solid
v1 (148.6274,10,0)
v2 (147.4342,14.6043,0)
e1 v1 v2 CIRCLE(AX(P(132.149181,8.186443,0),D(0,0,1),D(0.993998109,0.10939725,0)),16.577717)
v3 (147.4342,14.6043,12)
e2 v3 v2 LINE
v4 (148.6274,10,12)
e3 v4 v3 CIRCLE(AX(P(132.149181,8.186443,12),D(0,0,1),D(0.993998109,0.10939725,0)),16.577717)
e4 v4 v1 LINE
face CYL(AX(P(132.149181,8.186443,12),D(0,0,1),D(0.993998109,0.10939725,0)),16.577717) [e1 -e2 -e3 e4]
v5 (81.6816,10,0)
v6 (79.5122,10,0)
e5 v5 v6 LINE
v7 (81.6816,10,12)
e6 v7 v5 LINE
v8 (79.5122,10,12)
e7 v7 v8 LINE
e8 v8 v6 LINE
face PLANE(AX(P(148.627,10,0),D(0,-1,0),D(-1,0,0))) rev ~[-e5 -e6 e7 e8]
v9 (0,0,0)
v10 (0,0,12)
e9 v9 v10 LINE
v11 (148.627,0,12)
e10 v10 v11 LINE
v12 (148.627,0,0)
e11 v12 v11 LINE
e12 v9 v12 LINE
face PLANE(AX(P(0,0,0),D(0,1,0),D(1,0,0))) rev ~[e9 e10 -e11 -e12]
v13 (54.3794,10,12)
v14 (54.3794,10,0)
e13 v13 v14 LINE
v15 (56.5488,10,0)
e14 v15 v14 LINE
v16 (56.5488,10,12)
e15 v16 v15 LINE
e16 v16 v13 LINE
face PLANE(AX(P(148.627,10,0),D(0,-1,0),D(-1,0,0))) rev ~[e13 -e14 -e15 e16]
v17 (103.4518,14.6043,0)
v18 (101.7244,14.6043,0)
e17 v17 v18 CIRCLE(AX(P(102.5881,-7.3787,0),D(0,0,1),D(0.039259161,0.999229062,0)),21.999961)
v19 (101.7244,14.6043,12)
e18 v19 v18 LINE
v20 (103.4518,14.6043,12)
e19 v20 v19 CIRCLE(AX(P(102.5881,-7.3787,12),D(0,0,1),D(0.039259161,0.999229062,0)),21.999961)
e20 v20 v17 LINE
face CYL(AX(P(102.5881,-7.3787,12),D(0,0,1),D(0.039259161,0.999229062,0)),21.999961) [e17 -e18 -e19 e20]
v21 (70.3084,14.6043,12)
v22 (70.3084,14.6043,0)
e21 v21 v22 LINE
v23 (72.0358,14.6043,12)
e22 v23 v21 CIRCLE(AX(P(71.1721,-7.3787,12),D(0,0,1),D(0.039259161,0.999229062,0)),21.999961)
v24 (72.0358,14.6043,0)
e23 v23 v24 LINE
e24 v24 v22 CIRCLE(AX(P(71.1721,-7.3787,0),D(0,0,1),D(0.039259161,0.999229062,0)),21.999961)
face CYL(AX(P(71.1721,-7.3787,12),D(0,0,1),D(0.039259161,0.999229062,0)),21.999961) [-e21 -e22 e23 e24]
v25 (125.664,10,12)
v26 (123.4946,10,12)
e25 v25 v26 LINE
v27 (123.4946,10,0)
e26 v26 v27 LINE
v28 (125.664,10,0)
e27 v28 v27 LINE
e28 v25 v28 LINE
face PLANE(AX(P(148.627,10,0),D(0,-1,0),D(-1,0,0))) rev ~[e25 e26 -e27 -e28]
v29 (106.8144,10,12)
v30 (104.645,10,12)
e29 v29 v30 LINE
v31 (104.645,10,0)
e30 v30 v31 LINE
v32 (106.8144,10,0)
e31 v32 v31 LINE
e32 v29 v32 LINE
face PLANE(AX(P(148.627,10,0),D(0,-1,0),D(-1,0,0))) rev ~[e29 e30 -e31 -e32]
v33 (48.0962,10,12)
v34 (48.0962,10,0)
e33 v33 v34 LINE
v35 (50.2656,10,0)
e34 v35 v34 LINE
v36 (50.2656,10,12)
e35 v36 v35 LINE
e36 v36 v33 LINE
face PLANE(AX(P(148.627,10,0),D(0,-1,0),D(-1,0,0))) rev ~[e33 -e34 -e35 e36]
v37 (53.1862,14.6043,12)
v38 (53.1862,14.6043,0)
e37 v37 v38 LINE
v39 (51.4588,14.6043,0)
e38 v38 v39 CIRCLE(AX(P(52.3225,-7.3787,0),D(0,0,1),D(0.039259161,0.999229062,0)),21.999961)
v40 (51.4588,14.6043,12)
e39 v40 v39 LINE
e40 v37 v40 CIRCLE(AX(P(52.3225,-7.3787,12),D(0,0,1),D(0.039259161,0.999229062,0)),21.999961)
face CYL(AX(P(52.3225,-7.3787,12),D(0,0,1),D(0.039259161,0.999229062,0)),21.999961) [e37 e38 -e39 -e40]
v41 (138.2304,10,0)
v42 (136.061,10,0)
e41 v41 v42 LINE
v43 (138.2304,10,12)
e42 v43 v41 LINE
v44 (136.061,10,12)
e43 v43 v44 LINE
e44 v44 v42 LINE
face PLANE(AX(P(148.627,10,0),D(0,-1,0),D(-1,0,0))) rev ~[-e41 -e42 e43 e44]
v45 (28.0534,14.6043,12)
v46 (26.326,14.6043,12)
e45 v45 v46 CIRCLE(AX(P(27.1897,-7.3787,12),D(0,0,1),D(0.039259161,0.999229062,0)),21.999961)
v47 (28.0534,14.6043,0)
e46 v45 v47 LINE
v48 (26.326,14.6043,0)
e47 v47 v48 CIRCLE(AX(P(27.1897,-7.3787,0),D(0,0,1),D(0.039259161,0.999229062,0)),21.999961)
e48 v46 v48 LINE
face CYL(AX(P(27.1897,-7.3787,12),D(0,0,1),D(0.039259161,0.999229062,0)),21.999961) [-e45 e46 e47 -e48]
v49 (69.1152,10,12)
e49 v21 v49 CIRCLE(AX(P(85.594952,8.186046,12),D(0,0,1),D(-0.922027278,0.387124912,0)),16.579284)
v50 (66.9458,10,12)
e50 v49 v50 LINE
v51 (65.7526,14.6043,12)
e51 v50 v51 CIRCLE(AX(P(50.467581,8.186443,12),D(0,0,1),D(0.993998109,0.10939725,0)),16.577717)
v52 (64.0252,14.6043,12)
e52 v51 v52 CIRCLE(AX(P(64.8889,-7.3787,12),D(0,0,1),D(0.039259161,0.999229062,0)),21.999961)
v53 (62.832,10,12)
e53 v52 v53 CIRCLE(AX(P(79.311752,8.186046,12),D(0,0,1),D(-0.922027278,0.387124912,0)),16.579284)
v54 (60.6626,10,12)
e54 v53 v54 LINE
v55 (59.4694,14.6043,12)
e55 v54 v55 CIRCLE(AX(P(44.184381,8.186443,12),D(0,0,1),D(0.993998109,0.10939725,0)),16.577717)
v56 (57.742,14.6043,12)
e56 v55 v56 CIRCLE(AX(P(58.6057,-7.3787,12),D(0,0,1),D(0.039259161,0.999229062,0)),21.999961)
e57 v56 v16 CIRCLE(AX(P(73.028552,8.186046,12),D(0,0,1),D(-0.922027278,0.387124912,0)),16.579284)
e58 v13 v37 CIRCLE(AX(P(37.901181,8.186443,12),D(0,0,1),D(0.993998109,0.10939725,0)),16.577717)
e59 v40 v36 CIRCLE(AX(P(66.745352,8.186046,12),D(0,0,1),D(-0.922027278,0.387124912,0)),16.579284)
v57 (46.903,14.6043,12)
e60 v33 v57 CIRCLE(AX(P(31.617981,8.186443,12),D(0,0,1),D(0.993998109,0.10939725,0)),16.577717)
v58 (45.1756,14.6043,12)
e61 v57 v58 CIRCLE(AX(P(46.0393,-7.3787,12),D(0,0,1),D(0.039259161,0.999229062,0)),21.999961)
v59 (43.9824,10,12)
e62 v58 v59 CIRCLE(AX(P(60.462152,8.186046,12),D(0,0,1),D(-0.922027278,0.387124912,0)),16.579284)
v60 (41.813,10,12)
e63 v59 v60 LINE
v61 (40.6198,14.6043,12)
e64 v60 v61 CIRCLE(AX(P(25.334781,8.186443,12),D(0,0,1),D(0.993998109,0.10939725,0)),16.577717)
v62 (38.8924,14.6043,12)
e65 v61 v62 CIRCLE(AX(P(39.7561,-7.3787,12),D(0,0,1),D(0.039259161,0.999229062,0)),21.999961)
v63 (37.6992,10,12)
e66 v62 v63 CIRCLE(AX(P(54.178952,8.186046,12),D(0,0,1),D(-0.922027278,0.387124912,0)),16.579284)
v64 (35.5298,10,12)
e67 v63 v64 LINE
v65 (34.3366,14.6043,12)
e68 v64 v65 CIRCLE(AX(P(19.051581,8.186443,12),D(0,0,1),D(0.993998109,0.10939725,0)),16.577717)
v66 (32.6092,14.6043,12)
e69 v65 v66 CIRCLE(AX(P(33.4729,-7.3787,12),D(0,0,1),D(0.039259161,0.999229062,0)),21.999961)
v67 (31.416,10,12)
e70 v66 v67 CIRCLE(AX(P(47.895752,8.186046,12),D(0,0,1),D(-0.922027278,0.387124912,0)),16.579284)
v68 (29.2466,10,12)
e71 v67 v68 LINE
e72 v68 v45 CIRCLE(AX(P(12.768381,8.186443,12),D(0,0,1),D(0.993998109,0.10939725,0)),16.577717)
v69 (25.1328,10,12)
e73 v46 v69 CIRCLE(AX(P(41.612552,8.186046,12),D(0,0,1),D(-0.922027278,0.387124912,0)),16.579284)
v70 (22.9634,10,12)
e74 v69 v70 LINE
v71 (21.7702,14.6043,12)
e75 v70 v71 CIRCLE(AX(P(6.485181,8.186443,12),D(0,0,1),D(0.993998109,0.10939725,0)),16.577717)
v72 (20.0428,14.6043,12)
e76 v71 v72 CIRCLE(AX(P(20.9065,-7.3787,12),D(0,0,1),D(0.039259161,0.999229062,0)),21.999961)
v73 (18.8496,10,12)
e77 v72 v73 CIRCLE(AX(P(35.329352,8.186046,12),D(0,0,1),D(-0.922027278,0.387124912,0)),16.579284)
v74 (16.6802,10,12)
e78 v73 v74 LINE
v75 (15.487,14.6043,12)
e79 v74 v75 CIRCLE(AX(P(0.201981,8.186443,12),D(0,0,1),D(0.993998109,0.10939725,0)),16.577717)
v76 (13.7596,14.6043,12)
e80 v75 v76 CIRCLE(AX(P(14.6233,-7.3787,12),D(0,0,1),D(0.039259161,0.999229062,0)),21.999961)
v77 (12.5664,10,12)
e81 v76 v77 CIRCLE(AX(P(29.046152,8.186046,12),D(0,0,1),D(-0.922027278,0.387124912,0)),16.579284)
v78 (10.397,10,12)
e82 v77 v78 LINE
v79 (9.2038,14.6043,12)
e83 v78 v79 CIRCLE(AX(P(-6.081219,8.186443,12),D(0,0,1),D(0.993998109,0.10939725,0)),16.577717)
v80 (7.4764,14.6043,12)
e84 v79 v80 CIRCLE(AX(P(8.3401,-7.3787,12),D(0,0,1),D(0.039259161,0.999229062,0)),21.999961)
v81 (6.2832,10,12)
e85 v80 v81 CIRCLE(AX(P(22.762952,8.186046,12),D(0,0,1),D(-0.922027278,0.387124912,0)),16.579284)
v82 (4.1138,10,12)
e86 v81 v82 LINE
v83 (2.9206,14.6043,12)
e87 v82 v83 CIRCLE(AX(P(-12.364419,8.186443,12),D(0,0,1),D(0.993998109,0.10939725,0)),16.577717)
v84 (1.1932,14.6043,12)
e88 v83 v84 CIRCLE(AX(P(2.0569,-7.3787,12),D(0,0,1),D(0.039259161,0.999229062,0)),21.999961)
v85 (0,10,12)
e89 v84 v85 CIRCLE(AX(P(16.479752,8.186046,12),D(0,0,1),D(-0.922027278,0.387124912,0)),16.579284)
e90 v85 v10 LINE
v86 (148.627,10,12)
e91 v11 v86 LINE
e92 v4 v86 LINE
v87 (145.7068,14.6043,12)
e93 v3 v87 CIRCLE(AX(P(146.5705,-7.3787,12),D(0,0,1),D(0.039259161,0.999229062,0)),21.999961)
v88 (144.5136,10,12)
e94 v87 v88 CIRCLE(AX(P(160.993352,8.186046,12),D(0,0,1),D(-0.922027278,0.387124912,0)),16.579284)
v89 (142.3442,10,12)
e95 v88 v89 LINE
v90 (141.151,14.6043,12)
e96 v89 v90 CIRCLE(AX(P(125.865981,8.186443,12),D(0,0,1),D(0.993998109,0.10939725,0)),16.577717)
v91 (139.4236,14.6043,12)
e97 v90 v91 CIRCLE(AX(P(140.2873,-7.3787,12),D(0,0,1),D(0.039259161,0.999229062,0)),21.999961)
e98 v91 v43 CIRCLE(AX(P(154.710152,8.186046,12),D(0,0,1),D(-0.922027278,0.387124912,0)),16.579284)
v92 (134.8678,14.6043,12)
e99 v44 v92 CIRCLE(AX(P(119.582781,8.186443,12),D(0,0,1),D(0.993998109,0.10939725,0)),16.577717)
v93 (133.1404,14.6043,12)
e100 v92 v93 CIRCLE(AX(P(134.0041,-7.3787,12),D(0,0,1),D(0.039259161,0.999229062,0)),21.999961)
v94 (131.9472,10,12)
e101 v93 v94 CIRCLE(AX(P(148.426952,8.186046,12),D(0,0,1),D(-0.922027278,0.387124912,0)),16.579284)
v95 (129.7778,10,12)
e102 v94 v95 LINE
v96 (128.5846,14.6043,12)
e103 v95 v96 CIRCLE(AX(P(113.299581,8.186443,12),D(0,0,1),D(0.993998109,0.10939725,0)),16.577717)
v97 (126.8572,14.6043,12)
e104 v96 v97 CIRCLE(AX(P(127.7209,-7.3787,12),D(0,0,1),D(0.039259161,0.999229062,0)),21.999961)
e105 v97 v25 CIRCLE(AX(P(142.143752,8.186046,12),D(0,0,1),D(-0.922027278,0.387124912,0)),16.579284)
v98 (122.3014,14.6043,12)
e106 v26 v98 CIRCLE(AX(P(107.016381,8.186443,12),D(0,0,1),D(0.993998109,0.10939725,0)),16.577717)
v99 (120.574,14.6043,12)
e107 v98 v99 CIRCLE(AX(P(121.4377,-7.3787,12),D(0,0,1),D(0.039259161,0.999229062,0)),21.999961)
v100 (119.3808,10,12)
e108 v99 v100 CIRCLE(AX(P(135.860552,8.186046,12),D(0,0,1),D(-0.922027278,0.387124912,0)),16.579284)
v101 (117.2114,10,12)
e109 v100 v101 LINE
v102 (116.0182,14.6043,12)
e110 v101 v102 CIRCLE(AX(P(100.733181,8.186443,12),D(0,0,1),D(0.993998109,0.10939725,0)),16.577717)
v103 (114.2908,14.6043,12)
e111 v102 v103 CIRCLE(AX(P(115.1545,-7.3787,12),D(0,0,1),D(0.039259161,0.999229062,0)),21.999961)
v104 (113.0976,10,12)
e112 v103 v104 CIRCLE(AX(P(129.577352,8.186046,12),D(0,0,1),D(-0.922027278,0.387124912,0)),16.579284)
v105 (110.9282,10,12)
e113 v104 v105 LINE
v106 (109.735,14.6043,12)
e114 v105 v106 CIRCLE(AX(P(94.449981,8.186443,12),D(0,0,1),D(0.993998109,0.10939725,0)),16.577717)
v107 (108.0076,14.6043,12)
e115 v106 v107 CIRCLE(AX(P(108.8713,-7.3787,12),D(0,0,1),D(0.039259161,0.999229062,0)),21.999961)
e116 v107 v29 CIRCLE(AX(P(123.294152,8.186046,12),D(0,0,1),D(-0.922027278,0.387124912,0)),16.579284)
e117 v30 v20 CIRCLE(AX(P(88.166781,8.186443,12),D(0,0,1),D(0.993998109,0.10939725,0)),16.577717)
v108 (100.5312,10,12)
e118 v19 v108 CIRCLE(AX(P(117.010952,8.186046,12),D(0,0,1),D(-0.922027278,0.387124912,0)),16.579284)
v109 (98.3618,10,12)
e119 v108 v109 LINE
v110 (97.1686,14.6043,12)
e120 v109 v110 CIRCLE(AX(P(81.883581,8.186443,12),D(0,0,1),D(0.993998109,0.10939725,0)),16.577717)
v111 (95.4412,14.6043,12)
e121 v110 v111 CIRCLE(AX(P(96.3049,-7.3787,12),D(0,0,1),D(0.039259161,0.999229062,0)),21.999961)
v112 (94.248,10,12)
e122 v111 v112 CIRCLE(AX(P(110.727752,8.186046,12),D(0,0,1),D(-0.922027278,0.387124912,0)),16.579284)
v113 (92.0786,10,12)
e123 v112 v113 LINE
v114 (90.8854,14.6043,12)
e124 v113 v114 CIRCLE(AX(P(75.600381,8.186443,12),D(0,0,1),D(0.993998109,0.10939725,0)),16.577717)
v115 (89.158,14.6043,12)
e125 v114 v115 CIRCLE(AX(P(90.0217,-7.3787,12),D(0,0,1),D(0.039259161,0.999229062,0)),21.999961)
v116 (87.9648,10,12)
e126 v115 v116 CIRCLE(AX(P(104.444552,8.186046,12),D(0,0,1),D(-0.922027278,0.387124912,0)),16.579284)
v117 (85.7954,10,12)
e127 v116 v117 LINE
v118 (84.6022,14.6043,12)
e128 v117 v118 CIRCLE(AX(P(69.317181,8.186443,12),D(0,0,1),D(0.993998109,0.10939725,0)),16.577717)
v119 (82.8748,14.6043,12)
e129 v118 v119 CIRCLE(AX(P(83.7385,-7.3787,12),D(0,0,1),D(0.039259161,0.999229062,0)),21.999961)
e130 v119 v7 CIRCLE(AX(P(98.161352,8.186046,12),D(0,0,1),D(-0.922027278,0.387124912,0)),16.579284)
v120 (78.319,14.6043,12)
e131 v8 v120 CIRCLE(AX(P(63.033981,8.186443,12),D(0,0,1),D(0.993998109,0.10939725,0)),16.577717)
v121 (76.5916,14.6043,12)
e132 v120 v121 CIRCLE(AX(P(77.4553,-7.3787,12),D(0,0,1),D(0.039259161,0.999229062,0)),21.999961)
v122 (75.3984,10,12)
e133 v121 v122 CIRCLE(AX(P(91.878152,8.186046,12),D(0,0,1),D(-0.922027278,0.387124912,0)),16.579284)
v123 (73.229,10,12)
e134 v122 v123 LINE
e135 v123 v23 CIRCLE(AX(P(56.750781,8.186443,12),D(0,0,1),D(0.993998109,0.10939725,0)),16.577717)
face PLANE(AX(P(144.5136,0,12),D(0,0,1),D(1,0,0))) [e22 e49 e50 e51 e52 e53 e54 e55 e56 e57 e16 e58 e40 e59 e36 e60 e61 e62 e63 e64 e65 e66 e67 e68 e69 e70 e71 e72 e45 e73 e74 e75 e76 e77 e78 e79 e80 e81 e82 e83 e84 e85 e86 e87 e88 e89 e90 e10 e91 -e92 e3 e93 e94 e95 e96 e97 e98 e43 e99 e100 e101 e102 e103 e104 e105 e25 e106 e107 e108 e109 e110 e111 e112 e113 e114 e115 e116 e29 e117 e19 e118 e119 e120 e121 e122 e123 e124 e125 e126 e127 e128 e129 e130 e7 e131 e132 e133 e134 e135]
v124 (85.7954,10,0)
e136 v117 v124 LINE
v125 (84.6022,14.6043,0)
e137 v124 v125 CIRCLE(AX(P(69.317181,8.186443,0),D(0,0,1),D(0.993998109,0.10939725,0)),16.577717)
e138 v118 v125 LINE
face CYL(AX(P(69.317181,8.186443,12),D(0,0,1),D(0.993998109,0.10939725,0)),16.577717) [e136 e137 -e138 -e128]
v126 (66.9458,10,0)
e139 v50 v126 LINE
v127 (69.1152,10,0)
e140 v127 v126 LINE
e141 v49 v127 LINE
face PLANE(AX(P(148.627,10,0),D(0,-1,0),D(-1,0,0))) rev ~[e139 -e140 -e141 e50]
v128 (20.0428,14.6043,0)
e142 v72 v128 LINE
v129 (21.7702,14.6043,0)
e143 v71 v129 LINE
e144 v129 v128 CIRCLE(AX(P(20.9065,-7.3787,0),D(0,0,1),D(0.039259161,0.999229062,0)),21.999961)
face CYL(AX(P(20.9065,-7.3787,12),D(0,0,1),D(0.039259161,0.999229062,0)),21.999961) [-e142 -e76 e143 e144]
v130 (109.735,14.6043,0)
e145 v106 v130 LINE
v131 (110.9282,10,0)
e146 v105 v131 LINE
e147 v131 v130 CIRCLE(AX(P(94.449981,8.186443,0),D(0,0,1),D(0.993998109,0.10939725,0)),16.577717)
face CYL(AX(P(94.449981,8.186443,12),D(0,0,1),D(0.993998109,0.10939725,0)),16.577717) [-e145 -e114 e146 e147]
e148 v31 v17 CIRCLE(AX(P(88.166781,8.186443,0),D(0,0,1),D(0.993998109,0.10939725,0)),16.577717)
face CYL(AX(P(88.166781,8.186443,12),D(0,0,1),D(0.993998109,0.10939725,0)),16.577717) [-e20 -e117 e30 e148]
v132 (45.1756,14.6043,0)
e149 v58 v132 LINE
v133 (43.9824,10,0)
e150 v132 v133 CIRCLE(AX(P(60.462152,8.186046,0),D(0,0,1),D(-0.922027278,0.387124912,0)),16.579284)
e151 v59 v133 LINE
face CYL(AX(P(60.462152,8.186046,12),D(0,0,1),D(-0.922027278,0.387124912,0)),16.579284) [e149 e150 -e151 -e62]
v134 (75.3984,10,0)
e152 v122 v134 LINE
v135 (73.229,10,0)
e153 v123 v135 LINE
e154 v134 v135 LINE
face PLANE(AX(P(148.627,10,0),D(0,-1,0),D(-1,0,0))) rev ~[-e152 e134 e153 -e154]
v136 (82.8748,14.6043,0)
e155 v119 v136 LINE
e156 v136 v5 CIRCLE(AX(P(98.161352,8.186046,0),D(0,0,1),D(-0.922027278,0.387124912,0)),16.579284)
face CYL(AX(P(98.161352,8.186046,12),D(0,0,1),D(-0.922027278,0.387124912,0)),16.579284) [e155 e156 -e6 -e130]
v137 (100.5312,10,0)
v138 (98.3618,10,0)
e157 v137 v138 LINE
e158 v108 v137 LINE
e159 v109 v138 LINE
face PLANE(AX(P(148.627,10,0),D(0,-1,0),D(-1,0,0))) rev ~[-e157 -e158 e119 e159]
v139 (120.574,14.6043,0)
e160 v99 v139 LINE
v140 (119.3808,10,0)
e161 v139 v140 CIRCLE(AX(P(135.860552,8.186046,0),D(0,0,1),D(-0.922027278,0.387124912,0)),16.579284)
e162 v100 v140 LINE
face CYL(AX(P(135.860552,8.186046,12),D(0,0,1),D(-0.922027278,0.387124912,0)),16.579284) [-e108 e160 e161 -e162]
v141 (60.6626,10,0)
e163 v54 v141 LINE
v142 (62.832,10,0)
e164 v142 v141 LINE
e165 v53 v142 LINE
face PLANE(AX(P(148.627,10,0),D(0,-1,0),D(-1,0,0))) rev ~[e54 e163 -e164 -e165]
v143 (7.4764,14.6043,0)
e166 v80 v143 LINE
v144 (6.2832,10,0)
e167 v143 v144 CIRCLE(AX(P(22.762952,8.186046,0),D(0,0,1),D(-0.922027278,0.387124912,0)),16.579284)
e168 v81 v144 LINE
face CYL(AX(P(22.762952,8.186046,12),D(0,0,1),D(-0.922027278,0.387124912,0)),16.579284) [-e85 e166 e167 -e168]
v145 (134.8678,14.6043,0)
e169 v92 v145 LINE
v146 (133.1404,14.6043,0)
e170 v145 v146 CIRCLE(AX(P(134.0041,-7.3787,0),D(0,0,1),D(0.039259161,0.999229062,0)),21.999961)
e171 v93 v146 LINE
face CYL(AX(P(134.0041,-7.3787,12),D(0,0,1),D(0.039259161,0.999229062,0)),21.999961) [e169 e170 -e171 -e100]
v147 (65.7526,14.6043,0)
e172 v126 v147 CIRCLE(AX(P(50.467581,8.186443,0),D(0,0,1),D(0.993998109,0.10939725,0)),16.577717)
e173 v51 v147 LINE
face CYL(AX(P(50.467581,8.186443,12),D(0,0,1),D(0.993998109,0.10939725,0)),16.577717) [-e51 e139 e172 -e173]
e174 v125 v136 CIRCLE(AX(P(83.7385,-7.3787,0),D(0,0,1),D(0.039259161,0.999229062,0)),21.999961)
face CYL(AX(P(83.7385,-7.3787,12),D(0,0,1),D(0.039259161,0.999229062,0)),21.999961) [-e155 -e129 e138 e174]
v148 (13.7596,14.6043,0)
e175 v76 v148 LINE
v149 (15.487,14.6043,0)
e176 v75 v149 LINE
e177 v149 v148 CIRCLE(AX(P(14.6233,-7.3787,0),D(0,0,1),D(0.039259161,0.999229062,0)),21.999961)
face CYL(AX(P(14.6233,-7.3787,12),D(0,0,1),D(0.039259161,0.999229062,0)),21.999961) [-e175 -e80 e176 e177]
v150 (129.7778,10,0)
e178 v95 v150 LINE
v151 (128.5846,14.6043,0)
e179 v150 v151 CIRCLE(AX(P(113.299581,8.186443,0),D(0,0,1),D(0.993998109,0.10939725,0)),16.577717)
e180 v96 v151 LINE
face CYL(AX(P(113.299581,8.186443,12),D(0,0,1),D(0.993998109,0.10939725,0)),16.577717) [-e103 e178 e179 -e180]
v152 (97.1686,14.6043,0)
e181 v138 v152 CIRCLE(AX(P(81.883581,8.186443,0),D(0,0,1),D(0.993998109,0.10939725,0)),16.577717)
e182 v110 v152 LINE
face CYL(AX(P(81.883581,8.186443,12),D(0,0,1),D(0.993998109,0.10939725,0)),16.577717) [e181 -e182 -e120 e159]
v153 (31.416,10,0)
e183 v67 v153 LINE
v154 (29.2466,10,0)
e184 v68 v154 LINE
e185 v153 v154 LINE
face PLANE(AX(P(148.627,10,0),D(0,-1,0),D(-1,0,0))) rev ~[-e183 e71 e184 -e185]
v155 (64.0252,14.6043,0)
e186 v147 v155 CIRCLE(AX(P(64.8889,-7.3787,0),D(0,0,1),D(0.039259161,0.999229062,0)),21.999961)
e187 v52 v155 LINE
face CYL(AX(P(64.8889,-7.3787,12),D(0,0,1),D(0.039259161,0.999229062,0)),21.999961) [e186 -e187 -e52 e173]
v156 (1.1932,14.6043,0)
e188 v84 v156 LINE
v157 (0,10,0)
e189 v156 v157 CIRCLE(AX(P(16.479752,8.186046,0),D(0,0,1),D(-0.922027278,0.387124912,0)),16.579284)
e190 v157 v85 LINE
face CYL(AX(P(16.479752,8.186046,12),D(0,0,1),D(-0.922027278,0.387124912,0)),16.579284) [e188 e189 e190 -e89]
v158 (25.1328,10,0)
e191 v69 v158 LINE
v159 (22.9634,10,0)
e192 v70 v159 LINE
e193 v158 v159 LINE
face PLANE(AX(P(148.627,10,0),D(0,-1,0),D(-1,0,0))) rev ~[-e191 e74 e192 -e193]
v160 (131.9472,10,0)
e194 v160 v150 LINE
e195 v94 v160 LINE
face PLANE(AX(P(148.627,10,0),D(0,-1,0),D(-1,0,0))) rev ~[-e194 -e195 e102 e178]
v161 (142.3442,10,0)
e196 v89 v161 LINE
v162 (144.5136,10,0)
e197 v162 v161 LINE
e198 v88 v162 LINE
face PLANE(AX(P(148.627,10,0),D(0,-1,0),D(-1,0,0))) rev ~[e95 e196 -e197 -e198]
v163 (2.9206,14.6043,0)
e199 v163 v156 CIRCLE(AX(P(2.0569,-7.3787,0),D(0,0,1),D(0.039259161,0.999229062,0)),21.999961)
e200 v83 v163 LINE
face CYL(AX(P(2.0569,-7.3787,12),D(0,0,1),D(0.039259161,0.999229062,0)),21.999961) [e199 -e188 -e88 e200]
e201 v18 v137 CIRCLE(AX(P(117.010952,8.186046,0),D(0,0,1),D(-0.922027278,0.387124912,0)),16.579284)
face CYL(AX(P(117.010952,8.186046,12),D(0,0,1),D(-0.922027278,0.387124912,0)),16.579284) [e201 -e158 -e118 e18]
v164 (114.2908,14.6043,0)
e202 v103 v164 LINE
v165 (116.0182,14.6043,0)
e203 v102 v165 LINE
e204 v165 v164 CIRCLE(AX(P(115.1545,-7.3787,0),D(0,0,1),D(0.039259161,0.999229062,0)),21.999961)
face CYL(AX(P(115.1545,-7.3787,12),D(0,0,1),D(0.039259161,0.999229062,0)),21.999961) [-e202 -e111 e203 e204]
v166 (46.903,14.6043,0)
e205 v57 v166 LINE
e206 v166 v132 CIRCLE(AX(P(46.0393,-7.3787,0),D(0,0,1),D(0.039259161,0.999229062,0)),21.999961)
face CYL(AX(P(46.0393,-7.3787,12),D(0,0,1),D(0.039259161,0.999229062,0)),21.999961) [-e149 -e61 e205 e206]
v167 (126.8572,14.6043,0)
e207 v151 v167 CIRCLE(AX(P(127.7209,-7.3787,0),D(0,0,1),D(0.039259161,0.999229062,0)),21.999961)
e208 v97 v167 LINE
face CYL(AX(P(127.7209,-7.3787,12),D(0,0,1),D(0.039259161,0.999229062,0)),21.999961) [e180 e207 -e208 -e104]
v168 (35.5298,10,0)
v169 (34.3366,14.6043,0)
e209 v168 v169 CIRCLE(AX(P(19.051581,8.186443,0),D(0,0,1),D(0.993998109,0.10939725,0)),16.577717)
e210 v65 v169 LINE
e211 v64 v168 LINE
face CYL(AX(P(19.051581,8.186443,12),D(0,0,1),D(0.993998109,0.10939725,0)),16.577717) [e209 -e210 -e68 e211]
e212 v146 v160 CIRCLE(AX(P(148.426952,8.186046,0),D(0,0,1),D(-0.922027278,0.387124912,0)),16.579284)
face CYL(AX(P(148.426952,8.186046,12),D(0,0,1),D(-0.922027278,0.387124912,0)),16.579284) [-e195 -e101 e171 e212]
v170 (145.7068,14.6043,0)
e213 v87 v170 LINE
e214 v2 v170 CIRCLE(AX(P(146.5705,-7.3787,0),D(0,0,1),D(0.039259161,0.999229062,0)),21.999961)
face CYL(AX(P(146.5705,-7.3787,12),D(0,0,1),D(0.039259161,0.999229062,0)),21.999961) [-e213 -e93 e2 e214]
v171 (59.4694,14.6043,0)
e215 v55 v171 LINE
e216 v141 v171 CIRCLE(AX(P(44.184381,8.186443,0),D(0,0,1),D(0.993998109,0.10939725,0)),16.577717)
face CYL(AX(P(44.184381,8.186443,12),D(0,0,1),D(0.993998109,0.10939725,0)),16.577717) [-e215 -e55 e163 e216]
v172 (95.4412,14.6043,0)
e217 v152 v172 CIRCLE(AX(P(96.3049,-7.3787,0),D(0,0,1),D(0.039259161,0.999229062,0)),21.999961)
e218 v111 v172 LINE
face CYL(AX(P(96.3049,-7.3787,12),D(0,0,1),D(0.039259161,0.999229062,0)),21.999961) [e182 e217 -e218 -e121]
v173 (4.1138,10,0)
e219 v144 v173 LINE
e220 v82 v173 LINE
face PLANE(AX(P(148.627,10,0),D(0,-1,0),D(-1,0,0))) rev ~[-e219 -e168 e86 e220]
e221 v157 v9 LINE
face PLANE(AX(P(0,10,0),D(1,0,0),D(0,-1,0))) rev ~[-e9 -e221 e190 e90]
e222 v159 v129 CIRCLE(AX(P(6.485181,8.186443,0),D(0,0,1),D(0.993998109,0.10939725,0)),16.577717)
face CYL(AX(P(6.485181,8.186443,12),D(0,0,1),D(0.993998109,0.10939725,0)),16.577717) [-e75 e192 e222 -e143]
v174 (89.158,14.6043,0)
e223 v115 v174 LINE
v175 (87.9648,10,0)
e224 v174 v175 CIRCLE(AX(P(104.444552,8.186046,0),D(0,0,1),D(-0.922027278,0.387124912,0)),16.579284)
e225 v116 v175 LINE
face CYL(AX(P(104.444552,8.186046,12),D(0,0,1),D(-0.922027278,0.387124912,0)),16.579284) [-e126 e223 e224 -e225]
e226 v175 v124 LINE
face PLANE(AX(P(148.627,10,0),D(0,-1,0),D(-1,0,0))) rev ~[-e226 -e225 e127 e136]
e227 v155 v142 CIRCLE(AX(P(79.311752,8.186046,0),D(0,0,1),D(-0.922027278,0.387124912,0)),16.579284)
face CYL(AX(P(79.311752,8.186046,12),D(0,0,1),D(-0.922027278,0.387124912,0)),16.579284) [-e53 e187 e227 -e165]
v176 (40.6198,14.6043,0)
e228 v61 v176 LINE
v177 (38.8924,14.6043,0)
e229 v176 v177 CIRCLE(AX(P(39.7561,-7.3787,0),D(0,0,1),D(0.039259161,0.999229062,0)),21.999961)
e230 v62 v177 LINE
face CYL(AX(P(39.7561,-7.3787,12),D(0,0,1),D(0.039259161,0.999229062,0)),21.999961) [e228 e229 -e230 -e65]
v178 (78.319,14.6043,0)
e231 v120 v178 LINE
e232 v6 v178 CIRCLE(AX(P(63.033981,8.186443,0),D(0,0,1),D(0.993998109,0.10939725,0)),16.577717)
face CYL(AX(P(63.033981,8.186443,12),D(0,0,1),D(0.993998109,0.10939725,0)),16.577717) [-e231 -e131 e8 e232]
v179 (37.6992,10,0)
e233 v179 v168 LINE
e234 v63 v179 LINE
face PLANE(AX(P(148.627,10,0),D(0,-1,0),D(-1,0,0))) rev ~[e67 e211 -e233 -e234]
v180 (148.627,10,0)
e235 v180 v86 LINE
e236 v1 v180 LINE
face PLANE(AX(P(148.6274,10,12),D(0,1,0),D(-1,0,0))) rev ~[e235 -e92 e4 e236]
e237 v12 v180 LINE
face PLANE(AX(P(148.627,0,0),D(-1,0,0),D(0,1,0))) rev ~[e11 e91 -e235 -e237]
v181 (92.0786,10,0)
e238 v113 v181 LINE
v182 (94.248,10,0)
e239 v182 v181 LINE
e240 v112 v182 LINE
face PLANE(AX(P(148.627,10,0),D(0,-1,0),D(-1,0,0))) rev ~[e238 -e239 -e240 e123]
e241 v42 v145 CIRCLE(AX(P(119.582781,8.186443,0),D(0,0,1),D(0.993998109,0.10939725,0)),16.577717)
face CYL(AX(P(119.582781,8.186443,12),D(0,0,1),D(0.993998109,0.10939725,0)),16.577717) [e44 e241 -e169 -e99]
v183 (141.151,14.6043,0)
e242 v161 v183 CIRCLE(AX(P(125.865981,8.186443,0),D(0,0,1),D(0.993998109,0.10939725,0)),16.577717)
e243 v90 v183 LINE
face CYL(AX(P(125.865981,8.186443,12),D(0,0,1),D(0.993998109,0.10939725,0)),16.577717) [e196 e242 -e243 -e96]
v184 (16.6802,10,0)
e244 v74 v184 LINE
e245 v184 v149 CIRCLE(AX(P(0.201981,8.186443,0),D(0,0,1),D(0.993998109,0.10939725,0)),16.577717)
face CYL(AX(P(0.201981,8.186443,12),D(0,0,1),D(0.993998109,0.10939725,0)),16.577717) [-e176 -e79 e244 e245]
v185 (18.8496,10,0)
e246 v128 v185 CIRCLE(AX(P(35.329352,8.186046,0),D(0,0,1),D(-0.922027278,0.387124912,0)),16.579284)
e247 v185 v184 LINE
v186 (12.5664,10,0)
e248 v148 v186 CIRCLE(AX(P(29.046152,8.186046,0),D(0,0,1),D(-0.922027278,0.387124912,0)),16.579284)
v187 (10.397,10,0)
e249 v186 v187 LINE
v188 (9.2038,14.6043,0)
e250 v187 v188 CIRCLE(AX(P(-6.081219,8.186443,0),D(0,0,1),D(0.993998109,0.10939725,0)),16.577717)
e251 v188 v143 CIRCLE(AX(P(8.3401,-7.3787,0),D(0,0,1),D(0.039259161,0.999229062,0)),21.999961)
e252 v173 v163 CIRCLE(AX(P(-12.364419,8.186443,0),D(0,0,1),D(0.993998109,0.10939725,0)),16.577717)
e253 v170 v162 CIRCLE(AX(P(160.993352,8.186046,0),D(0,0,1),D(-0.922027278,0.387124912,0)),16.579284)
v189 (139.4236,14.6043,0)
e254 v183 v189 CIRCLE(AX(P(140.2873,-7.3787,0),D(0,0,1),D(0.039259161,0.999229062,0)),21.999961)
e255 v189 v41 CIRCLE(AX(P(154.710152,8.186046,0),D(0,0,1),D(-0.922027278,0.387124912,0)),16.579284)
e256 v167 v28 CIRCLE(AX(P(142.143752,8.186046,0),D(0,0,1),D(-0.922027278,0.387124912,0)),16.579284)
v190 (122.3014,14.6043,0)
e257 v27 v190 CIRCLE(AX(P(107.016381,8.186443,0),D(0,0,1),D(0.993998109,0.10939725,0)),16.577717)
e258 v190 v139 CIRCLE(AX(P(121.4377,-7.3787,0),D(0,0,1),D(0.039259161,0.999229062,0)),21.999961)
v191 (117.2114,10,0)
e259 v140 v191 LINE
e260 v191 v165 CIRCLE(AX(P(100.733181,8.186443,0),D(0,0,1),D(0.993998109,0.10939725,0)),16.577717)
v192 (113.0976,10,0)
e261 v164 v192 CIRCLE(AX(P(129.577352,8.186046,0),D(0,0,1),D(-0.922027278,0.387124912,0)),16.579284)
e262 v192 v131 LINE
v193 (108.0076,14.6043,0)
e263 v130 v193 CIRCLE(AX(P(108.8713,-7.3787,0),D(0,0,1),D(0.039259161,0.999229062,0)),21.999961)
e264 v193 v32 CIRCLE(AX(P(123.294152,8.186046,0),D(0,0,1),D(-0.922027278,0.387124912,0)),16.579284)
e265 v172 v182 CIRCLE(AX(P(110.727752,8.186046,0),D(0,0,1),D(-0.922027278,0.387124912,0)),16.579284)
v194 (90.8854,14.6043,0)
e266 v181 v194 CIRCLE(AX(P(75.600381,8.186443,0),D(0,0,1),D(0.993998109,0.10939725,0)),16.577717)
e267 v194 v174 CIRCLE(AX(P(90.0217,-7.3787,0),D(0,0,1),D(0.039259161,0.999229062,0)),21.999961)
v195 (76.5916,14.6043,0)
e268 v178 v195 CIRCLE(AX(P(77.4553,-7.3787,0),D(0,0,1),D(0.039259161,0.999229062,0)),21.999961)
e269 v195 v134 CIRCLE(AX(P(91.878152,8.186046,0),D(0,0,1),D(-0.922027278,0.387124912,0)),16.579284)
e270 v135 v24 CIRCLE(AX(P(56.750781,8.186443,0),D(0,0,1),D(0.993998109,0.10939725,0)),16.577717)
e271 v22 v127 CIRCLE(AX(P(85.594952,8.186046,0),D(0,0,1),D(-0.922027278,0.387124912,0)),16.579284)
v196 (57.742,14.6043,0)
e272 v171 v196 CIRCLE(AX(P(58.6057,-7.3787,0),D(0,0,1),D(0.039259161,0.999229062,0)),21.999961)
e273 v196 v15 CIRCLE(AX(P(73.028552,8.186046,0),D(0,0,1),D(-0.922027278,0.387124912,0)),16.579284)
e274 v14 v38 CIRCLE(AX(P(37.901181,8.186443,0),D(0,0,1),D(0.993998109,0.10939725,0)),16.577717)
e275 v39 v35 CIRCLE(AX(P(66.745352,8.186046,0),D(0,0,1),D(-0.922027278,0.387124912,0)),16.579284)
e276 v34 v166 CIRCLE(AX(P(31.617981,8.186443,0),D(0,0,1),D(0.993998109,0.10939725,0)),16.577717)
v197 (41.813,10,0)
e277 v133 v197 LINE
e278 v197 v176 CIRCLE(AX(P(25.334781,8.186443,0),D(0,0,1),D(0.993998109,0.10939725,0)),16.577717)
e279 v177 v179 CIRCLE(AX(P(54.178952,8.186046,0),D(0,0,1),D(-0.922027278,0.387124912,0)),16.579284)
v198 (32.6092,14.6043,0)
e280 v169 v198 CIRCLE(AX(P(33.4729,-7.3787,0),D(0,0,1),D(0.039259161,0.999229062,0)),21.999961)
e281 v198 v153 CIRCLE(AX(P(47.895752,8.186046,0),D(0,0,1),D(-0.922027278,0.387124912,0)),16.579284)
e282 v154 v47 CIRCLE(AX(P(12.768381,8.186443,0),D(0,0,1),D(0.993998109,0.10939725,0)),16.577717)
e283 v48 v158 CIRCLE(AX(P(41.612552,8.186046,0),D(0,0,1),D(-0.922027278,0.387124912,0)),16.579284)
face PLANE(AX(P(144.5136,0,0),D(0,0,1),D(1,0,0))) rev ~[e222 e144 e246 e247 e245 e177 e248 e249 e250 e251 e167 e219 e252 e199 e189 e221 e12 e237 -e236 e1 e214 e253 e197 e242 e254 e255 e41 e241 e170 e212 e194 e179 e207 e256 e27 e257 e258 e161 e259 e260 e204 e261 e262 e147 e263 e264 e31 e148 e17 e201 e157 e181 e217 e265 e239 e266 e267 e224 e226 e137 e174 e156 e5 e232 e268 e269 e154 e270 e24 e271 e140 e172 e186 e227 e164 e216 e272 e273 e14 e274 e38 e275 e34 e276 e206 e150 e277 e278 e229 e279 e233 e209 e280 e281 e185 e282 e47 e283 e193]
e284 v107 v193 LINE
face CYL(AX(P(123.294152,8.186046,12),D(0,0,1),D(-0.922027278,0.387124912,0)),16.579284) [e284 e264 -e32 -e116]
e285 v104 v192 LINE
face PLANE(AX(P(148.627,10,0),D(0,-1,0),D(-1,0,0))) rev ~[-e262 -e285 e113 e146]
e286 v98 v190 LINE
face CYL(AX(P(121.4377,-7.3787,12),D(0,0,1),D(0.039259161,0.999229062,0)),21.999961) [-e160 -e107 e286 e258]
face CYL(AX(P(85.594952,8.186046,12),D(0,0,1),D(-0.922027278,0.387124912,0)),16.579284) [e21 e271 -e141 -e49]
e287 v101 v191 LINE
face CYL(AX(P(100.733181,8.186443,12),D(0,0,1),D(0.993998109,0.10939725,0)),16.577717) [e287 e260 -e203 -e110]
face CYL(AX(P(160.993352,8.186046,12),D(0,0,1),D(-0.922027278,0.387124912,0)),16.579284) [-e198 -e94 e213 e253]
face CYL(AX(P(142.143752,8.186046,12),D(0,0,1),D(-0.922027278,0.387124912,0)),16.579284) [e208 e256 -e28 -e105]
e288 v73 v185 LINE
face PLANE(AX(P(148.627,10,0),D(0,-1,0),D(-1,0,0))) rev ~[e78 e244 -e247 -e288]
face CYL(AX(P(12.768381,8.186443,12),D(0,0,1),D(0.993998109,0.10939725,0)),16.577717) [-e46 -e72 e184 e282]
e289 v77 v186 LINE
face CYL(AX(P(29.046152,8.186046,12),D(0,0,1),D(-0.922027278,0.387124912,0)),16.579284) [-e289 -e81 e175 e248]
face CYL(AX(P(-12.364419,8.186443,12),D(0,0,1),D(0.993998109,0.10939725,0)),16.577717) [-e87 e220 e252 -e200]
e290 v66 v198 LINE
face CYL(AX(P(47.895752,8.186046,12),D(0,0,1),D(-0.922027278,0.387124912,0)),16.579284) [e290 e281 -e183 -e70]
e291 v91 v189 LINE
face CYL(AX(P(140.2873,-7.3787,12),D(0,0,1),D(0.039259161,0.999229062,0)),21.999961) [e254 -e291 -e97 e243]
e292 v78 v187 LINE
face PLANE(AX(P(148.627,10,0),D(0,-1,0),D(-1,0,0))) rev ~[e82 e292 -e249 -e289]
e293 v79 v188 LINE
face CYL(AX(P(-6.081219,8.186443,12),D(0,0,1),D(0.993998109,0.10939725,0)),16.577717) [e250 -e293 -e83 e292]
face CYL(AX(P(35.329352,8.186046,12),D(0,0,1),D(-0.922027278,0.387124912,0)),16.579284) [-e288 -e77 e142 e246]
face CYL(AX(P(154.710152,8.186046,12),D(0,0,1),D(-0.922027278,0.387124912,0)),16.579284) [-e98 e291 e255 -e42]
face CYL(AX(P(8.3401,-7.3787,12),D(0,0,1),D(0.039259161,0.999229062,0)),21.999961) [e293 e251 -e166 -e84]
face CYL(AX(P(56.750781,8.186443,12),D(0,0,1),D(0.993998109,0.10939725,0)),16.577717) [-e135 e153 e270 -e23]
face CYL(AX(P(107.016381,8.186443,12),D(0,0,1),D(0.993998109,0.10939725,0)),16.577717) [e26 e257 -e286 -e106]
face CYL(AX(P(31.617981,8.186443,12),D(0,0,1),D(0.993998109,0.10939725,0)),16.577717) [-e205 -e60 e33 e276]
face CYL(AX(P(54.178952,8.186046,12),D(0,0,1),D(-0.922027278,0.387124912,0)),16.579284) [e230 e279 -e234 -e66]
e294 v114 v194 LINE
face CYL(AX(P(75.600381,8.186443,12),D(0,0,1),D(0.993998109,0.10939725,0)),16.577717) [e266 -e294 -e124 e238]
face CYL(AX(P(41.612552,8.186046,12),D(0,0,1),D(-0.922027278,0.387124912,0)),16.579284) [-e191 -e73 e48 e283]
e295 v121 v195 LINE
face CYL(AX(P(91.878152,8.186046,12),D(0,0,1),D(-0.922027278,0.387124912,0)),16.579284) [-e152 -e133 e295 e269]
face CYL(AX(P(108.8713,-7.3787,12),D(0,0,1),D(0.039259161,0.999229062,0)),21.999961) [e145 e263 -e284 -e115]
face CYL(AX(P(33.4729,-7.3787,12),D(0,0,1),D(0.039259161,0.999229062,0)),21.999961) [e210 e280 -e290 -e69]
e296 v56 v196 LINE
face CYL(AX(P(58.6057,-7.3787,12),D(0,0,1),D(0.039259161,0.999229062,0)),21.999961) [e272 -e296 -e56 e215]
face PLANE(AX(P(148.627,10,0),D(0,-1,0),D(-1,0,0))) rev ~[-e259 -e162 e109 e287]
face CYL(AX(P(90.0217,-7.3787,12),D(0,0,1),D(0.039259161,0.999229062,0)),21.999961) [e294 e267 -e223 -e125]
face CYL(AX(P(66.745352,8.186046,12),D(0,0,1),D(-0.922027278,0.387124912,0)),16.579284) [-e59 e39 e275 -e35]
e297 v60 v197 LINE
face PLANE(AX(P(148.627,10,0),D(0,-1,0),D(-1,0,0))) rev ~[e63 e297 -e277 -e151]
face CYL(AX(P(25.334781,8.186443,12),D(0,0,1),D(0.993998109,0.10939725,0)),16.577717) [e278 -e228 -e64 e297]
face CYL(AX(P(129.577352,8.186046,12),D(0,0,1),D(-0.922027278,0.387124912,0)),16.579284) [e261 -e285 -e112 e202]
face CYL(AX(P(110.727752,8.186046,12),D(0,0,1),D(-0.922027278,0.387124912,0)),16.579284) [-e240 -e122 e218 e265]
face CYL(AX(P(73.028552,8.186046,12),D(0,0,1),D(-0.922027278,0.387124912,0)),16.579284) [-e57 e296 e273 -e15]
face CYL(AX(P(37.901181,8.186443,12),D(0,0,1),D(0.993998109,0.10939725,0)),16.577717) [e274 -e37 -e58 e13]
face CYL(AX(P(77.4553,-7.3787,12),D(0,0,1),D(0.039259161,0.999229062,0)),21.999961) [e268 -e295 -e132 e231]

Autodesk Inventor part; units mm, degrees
ref_plane "YZ Plane" through (0, 0, 0) normal (1, 0, 0) x (0, 1, 0)
ref_plane "XZ Plane" through (0, 0, 0) normal (0, 1, 0) x (-1, 0, 0)
ref_plane "XY Plane" through (0, 0, 0) normal (0, 0, 1) x (1, 0, 0)
sketch "Sketch1" plane through (0, 0, 0) normal (0, 0, 1) x (1, 0, 0)
  line L0 (0, 0) -> (148.627, 0)
  line L1 (148.627, 0) -> (148.627, 10)
  line L2 (148.627, 10) -> (0, 10)
  line L3 (0, 10) -> (0, 0)
  dimension "d0" = 148.627
  dimension "d1" = 10
extrude "Extrusion1" add sketch "Sketch1" along normal blind 12
sketch "Sketch2" plane through (0, 0, 12) normal (0, 0, 1) x (1, 0, 0)
  arc A0 (4.1138, 10) -> (2.9206, 14.6043) centre (-12.3652, 8.1863) ccw
  arc A1 (2.9206, 14.6043) -> (1.1932, 14.6043) centre (2.0569, -7.3787) ccw
  arc A2 (1.1932, 14.6043) -> (0, 10) centre (16.479, 8.1863) ccw
  line L0 (0, 0) -> (148.627, 0) projected
  line L1 (148.627, 0) -> (148.627, 10) projected
  line L2 (148.627, 10) -> (0, 10) projected
  line L3 (0, 10) -> (0, 0) projected
  line L4 (148.627, 10) -> (0, 10) projected
  line L5 (0, 10) -> (4.1138, 10)
  dimension "d4" = 16.5785
  dimension "d5" = 16.5785
  dimension "d6" = 22
  dimension "d7" = 28.8442
  dimension "d8" = 1.1932
  dimension "d9" = 6.418
  dimension "d10" = 4.6043
  dimension "d11" = 1.1932
extrude "Extrusion2" add sketch "Sketch2" against normal blind 12 contours L2 A2 A1 A0
pattern_linear "Rectangular Pattern1" count 24 spacing 6.2832 along (1, 0, 0) of "Extrusion2"
properties part number "Cremallera"
